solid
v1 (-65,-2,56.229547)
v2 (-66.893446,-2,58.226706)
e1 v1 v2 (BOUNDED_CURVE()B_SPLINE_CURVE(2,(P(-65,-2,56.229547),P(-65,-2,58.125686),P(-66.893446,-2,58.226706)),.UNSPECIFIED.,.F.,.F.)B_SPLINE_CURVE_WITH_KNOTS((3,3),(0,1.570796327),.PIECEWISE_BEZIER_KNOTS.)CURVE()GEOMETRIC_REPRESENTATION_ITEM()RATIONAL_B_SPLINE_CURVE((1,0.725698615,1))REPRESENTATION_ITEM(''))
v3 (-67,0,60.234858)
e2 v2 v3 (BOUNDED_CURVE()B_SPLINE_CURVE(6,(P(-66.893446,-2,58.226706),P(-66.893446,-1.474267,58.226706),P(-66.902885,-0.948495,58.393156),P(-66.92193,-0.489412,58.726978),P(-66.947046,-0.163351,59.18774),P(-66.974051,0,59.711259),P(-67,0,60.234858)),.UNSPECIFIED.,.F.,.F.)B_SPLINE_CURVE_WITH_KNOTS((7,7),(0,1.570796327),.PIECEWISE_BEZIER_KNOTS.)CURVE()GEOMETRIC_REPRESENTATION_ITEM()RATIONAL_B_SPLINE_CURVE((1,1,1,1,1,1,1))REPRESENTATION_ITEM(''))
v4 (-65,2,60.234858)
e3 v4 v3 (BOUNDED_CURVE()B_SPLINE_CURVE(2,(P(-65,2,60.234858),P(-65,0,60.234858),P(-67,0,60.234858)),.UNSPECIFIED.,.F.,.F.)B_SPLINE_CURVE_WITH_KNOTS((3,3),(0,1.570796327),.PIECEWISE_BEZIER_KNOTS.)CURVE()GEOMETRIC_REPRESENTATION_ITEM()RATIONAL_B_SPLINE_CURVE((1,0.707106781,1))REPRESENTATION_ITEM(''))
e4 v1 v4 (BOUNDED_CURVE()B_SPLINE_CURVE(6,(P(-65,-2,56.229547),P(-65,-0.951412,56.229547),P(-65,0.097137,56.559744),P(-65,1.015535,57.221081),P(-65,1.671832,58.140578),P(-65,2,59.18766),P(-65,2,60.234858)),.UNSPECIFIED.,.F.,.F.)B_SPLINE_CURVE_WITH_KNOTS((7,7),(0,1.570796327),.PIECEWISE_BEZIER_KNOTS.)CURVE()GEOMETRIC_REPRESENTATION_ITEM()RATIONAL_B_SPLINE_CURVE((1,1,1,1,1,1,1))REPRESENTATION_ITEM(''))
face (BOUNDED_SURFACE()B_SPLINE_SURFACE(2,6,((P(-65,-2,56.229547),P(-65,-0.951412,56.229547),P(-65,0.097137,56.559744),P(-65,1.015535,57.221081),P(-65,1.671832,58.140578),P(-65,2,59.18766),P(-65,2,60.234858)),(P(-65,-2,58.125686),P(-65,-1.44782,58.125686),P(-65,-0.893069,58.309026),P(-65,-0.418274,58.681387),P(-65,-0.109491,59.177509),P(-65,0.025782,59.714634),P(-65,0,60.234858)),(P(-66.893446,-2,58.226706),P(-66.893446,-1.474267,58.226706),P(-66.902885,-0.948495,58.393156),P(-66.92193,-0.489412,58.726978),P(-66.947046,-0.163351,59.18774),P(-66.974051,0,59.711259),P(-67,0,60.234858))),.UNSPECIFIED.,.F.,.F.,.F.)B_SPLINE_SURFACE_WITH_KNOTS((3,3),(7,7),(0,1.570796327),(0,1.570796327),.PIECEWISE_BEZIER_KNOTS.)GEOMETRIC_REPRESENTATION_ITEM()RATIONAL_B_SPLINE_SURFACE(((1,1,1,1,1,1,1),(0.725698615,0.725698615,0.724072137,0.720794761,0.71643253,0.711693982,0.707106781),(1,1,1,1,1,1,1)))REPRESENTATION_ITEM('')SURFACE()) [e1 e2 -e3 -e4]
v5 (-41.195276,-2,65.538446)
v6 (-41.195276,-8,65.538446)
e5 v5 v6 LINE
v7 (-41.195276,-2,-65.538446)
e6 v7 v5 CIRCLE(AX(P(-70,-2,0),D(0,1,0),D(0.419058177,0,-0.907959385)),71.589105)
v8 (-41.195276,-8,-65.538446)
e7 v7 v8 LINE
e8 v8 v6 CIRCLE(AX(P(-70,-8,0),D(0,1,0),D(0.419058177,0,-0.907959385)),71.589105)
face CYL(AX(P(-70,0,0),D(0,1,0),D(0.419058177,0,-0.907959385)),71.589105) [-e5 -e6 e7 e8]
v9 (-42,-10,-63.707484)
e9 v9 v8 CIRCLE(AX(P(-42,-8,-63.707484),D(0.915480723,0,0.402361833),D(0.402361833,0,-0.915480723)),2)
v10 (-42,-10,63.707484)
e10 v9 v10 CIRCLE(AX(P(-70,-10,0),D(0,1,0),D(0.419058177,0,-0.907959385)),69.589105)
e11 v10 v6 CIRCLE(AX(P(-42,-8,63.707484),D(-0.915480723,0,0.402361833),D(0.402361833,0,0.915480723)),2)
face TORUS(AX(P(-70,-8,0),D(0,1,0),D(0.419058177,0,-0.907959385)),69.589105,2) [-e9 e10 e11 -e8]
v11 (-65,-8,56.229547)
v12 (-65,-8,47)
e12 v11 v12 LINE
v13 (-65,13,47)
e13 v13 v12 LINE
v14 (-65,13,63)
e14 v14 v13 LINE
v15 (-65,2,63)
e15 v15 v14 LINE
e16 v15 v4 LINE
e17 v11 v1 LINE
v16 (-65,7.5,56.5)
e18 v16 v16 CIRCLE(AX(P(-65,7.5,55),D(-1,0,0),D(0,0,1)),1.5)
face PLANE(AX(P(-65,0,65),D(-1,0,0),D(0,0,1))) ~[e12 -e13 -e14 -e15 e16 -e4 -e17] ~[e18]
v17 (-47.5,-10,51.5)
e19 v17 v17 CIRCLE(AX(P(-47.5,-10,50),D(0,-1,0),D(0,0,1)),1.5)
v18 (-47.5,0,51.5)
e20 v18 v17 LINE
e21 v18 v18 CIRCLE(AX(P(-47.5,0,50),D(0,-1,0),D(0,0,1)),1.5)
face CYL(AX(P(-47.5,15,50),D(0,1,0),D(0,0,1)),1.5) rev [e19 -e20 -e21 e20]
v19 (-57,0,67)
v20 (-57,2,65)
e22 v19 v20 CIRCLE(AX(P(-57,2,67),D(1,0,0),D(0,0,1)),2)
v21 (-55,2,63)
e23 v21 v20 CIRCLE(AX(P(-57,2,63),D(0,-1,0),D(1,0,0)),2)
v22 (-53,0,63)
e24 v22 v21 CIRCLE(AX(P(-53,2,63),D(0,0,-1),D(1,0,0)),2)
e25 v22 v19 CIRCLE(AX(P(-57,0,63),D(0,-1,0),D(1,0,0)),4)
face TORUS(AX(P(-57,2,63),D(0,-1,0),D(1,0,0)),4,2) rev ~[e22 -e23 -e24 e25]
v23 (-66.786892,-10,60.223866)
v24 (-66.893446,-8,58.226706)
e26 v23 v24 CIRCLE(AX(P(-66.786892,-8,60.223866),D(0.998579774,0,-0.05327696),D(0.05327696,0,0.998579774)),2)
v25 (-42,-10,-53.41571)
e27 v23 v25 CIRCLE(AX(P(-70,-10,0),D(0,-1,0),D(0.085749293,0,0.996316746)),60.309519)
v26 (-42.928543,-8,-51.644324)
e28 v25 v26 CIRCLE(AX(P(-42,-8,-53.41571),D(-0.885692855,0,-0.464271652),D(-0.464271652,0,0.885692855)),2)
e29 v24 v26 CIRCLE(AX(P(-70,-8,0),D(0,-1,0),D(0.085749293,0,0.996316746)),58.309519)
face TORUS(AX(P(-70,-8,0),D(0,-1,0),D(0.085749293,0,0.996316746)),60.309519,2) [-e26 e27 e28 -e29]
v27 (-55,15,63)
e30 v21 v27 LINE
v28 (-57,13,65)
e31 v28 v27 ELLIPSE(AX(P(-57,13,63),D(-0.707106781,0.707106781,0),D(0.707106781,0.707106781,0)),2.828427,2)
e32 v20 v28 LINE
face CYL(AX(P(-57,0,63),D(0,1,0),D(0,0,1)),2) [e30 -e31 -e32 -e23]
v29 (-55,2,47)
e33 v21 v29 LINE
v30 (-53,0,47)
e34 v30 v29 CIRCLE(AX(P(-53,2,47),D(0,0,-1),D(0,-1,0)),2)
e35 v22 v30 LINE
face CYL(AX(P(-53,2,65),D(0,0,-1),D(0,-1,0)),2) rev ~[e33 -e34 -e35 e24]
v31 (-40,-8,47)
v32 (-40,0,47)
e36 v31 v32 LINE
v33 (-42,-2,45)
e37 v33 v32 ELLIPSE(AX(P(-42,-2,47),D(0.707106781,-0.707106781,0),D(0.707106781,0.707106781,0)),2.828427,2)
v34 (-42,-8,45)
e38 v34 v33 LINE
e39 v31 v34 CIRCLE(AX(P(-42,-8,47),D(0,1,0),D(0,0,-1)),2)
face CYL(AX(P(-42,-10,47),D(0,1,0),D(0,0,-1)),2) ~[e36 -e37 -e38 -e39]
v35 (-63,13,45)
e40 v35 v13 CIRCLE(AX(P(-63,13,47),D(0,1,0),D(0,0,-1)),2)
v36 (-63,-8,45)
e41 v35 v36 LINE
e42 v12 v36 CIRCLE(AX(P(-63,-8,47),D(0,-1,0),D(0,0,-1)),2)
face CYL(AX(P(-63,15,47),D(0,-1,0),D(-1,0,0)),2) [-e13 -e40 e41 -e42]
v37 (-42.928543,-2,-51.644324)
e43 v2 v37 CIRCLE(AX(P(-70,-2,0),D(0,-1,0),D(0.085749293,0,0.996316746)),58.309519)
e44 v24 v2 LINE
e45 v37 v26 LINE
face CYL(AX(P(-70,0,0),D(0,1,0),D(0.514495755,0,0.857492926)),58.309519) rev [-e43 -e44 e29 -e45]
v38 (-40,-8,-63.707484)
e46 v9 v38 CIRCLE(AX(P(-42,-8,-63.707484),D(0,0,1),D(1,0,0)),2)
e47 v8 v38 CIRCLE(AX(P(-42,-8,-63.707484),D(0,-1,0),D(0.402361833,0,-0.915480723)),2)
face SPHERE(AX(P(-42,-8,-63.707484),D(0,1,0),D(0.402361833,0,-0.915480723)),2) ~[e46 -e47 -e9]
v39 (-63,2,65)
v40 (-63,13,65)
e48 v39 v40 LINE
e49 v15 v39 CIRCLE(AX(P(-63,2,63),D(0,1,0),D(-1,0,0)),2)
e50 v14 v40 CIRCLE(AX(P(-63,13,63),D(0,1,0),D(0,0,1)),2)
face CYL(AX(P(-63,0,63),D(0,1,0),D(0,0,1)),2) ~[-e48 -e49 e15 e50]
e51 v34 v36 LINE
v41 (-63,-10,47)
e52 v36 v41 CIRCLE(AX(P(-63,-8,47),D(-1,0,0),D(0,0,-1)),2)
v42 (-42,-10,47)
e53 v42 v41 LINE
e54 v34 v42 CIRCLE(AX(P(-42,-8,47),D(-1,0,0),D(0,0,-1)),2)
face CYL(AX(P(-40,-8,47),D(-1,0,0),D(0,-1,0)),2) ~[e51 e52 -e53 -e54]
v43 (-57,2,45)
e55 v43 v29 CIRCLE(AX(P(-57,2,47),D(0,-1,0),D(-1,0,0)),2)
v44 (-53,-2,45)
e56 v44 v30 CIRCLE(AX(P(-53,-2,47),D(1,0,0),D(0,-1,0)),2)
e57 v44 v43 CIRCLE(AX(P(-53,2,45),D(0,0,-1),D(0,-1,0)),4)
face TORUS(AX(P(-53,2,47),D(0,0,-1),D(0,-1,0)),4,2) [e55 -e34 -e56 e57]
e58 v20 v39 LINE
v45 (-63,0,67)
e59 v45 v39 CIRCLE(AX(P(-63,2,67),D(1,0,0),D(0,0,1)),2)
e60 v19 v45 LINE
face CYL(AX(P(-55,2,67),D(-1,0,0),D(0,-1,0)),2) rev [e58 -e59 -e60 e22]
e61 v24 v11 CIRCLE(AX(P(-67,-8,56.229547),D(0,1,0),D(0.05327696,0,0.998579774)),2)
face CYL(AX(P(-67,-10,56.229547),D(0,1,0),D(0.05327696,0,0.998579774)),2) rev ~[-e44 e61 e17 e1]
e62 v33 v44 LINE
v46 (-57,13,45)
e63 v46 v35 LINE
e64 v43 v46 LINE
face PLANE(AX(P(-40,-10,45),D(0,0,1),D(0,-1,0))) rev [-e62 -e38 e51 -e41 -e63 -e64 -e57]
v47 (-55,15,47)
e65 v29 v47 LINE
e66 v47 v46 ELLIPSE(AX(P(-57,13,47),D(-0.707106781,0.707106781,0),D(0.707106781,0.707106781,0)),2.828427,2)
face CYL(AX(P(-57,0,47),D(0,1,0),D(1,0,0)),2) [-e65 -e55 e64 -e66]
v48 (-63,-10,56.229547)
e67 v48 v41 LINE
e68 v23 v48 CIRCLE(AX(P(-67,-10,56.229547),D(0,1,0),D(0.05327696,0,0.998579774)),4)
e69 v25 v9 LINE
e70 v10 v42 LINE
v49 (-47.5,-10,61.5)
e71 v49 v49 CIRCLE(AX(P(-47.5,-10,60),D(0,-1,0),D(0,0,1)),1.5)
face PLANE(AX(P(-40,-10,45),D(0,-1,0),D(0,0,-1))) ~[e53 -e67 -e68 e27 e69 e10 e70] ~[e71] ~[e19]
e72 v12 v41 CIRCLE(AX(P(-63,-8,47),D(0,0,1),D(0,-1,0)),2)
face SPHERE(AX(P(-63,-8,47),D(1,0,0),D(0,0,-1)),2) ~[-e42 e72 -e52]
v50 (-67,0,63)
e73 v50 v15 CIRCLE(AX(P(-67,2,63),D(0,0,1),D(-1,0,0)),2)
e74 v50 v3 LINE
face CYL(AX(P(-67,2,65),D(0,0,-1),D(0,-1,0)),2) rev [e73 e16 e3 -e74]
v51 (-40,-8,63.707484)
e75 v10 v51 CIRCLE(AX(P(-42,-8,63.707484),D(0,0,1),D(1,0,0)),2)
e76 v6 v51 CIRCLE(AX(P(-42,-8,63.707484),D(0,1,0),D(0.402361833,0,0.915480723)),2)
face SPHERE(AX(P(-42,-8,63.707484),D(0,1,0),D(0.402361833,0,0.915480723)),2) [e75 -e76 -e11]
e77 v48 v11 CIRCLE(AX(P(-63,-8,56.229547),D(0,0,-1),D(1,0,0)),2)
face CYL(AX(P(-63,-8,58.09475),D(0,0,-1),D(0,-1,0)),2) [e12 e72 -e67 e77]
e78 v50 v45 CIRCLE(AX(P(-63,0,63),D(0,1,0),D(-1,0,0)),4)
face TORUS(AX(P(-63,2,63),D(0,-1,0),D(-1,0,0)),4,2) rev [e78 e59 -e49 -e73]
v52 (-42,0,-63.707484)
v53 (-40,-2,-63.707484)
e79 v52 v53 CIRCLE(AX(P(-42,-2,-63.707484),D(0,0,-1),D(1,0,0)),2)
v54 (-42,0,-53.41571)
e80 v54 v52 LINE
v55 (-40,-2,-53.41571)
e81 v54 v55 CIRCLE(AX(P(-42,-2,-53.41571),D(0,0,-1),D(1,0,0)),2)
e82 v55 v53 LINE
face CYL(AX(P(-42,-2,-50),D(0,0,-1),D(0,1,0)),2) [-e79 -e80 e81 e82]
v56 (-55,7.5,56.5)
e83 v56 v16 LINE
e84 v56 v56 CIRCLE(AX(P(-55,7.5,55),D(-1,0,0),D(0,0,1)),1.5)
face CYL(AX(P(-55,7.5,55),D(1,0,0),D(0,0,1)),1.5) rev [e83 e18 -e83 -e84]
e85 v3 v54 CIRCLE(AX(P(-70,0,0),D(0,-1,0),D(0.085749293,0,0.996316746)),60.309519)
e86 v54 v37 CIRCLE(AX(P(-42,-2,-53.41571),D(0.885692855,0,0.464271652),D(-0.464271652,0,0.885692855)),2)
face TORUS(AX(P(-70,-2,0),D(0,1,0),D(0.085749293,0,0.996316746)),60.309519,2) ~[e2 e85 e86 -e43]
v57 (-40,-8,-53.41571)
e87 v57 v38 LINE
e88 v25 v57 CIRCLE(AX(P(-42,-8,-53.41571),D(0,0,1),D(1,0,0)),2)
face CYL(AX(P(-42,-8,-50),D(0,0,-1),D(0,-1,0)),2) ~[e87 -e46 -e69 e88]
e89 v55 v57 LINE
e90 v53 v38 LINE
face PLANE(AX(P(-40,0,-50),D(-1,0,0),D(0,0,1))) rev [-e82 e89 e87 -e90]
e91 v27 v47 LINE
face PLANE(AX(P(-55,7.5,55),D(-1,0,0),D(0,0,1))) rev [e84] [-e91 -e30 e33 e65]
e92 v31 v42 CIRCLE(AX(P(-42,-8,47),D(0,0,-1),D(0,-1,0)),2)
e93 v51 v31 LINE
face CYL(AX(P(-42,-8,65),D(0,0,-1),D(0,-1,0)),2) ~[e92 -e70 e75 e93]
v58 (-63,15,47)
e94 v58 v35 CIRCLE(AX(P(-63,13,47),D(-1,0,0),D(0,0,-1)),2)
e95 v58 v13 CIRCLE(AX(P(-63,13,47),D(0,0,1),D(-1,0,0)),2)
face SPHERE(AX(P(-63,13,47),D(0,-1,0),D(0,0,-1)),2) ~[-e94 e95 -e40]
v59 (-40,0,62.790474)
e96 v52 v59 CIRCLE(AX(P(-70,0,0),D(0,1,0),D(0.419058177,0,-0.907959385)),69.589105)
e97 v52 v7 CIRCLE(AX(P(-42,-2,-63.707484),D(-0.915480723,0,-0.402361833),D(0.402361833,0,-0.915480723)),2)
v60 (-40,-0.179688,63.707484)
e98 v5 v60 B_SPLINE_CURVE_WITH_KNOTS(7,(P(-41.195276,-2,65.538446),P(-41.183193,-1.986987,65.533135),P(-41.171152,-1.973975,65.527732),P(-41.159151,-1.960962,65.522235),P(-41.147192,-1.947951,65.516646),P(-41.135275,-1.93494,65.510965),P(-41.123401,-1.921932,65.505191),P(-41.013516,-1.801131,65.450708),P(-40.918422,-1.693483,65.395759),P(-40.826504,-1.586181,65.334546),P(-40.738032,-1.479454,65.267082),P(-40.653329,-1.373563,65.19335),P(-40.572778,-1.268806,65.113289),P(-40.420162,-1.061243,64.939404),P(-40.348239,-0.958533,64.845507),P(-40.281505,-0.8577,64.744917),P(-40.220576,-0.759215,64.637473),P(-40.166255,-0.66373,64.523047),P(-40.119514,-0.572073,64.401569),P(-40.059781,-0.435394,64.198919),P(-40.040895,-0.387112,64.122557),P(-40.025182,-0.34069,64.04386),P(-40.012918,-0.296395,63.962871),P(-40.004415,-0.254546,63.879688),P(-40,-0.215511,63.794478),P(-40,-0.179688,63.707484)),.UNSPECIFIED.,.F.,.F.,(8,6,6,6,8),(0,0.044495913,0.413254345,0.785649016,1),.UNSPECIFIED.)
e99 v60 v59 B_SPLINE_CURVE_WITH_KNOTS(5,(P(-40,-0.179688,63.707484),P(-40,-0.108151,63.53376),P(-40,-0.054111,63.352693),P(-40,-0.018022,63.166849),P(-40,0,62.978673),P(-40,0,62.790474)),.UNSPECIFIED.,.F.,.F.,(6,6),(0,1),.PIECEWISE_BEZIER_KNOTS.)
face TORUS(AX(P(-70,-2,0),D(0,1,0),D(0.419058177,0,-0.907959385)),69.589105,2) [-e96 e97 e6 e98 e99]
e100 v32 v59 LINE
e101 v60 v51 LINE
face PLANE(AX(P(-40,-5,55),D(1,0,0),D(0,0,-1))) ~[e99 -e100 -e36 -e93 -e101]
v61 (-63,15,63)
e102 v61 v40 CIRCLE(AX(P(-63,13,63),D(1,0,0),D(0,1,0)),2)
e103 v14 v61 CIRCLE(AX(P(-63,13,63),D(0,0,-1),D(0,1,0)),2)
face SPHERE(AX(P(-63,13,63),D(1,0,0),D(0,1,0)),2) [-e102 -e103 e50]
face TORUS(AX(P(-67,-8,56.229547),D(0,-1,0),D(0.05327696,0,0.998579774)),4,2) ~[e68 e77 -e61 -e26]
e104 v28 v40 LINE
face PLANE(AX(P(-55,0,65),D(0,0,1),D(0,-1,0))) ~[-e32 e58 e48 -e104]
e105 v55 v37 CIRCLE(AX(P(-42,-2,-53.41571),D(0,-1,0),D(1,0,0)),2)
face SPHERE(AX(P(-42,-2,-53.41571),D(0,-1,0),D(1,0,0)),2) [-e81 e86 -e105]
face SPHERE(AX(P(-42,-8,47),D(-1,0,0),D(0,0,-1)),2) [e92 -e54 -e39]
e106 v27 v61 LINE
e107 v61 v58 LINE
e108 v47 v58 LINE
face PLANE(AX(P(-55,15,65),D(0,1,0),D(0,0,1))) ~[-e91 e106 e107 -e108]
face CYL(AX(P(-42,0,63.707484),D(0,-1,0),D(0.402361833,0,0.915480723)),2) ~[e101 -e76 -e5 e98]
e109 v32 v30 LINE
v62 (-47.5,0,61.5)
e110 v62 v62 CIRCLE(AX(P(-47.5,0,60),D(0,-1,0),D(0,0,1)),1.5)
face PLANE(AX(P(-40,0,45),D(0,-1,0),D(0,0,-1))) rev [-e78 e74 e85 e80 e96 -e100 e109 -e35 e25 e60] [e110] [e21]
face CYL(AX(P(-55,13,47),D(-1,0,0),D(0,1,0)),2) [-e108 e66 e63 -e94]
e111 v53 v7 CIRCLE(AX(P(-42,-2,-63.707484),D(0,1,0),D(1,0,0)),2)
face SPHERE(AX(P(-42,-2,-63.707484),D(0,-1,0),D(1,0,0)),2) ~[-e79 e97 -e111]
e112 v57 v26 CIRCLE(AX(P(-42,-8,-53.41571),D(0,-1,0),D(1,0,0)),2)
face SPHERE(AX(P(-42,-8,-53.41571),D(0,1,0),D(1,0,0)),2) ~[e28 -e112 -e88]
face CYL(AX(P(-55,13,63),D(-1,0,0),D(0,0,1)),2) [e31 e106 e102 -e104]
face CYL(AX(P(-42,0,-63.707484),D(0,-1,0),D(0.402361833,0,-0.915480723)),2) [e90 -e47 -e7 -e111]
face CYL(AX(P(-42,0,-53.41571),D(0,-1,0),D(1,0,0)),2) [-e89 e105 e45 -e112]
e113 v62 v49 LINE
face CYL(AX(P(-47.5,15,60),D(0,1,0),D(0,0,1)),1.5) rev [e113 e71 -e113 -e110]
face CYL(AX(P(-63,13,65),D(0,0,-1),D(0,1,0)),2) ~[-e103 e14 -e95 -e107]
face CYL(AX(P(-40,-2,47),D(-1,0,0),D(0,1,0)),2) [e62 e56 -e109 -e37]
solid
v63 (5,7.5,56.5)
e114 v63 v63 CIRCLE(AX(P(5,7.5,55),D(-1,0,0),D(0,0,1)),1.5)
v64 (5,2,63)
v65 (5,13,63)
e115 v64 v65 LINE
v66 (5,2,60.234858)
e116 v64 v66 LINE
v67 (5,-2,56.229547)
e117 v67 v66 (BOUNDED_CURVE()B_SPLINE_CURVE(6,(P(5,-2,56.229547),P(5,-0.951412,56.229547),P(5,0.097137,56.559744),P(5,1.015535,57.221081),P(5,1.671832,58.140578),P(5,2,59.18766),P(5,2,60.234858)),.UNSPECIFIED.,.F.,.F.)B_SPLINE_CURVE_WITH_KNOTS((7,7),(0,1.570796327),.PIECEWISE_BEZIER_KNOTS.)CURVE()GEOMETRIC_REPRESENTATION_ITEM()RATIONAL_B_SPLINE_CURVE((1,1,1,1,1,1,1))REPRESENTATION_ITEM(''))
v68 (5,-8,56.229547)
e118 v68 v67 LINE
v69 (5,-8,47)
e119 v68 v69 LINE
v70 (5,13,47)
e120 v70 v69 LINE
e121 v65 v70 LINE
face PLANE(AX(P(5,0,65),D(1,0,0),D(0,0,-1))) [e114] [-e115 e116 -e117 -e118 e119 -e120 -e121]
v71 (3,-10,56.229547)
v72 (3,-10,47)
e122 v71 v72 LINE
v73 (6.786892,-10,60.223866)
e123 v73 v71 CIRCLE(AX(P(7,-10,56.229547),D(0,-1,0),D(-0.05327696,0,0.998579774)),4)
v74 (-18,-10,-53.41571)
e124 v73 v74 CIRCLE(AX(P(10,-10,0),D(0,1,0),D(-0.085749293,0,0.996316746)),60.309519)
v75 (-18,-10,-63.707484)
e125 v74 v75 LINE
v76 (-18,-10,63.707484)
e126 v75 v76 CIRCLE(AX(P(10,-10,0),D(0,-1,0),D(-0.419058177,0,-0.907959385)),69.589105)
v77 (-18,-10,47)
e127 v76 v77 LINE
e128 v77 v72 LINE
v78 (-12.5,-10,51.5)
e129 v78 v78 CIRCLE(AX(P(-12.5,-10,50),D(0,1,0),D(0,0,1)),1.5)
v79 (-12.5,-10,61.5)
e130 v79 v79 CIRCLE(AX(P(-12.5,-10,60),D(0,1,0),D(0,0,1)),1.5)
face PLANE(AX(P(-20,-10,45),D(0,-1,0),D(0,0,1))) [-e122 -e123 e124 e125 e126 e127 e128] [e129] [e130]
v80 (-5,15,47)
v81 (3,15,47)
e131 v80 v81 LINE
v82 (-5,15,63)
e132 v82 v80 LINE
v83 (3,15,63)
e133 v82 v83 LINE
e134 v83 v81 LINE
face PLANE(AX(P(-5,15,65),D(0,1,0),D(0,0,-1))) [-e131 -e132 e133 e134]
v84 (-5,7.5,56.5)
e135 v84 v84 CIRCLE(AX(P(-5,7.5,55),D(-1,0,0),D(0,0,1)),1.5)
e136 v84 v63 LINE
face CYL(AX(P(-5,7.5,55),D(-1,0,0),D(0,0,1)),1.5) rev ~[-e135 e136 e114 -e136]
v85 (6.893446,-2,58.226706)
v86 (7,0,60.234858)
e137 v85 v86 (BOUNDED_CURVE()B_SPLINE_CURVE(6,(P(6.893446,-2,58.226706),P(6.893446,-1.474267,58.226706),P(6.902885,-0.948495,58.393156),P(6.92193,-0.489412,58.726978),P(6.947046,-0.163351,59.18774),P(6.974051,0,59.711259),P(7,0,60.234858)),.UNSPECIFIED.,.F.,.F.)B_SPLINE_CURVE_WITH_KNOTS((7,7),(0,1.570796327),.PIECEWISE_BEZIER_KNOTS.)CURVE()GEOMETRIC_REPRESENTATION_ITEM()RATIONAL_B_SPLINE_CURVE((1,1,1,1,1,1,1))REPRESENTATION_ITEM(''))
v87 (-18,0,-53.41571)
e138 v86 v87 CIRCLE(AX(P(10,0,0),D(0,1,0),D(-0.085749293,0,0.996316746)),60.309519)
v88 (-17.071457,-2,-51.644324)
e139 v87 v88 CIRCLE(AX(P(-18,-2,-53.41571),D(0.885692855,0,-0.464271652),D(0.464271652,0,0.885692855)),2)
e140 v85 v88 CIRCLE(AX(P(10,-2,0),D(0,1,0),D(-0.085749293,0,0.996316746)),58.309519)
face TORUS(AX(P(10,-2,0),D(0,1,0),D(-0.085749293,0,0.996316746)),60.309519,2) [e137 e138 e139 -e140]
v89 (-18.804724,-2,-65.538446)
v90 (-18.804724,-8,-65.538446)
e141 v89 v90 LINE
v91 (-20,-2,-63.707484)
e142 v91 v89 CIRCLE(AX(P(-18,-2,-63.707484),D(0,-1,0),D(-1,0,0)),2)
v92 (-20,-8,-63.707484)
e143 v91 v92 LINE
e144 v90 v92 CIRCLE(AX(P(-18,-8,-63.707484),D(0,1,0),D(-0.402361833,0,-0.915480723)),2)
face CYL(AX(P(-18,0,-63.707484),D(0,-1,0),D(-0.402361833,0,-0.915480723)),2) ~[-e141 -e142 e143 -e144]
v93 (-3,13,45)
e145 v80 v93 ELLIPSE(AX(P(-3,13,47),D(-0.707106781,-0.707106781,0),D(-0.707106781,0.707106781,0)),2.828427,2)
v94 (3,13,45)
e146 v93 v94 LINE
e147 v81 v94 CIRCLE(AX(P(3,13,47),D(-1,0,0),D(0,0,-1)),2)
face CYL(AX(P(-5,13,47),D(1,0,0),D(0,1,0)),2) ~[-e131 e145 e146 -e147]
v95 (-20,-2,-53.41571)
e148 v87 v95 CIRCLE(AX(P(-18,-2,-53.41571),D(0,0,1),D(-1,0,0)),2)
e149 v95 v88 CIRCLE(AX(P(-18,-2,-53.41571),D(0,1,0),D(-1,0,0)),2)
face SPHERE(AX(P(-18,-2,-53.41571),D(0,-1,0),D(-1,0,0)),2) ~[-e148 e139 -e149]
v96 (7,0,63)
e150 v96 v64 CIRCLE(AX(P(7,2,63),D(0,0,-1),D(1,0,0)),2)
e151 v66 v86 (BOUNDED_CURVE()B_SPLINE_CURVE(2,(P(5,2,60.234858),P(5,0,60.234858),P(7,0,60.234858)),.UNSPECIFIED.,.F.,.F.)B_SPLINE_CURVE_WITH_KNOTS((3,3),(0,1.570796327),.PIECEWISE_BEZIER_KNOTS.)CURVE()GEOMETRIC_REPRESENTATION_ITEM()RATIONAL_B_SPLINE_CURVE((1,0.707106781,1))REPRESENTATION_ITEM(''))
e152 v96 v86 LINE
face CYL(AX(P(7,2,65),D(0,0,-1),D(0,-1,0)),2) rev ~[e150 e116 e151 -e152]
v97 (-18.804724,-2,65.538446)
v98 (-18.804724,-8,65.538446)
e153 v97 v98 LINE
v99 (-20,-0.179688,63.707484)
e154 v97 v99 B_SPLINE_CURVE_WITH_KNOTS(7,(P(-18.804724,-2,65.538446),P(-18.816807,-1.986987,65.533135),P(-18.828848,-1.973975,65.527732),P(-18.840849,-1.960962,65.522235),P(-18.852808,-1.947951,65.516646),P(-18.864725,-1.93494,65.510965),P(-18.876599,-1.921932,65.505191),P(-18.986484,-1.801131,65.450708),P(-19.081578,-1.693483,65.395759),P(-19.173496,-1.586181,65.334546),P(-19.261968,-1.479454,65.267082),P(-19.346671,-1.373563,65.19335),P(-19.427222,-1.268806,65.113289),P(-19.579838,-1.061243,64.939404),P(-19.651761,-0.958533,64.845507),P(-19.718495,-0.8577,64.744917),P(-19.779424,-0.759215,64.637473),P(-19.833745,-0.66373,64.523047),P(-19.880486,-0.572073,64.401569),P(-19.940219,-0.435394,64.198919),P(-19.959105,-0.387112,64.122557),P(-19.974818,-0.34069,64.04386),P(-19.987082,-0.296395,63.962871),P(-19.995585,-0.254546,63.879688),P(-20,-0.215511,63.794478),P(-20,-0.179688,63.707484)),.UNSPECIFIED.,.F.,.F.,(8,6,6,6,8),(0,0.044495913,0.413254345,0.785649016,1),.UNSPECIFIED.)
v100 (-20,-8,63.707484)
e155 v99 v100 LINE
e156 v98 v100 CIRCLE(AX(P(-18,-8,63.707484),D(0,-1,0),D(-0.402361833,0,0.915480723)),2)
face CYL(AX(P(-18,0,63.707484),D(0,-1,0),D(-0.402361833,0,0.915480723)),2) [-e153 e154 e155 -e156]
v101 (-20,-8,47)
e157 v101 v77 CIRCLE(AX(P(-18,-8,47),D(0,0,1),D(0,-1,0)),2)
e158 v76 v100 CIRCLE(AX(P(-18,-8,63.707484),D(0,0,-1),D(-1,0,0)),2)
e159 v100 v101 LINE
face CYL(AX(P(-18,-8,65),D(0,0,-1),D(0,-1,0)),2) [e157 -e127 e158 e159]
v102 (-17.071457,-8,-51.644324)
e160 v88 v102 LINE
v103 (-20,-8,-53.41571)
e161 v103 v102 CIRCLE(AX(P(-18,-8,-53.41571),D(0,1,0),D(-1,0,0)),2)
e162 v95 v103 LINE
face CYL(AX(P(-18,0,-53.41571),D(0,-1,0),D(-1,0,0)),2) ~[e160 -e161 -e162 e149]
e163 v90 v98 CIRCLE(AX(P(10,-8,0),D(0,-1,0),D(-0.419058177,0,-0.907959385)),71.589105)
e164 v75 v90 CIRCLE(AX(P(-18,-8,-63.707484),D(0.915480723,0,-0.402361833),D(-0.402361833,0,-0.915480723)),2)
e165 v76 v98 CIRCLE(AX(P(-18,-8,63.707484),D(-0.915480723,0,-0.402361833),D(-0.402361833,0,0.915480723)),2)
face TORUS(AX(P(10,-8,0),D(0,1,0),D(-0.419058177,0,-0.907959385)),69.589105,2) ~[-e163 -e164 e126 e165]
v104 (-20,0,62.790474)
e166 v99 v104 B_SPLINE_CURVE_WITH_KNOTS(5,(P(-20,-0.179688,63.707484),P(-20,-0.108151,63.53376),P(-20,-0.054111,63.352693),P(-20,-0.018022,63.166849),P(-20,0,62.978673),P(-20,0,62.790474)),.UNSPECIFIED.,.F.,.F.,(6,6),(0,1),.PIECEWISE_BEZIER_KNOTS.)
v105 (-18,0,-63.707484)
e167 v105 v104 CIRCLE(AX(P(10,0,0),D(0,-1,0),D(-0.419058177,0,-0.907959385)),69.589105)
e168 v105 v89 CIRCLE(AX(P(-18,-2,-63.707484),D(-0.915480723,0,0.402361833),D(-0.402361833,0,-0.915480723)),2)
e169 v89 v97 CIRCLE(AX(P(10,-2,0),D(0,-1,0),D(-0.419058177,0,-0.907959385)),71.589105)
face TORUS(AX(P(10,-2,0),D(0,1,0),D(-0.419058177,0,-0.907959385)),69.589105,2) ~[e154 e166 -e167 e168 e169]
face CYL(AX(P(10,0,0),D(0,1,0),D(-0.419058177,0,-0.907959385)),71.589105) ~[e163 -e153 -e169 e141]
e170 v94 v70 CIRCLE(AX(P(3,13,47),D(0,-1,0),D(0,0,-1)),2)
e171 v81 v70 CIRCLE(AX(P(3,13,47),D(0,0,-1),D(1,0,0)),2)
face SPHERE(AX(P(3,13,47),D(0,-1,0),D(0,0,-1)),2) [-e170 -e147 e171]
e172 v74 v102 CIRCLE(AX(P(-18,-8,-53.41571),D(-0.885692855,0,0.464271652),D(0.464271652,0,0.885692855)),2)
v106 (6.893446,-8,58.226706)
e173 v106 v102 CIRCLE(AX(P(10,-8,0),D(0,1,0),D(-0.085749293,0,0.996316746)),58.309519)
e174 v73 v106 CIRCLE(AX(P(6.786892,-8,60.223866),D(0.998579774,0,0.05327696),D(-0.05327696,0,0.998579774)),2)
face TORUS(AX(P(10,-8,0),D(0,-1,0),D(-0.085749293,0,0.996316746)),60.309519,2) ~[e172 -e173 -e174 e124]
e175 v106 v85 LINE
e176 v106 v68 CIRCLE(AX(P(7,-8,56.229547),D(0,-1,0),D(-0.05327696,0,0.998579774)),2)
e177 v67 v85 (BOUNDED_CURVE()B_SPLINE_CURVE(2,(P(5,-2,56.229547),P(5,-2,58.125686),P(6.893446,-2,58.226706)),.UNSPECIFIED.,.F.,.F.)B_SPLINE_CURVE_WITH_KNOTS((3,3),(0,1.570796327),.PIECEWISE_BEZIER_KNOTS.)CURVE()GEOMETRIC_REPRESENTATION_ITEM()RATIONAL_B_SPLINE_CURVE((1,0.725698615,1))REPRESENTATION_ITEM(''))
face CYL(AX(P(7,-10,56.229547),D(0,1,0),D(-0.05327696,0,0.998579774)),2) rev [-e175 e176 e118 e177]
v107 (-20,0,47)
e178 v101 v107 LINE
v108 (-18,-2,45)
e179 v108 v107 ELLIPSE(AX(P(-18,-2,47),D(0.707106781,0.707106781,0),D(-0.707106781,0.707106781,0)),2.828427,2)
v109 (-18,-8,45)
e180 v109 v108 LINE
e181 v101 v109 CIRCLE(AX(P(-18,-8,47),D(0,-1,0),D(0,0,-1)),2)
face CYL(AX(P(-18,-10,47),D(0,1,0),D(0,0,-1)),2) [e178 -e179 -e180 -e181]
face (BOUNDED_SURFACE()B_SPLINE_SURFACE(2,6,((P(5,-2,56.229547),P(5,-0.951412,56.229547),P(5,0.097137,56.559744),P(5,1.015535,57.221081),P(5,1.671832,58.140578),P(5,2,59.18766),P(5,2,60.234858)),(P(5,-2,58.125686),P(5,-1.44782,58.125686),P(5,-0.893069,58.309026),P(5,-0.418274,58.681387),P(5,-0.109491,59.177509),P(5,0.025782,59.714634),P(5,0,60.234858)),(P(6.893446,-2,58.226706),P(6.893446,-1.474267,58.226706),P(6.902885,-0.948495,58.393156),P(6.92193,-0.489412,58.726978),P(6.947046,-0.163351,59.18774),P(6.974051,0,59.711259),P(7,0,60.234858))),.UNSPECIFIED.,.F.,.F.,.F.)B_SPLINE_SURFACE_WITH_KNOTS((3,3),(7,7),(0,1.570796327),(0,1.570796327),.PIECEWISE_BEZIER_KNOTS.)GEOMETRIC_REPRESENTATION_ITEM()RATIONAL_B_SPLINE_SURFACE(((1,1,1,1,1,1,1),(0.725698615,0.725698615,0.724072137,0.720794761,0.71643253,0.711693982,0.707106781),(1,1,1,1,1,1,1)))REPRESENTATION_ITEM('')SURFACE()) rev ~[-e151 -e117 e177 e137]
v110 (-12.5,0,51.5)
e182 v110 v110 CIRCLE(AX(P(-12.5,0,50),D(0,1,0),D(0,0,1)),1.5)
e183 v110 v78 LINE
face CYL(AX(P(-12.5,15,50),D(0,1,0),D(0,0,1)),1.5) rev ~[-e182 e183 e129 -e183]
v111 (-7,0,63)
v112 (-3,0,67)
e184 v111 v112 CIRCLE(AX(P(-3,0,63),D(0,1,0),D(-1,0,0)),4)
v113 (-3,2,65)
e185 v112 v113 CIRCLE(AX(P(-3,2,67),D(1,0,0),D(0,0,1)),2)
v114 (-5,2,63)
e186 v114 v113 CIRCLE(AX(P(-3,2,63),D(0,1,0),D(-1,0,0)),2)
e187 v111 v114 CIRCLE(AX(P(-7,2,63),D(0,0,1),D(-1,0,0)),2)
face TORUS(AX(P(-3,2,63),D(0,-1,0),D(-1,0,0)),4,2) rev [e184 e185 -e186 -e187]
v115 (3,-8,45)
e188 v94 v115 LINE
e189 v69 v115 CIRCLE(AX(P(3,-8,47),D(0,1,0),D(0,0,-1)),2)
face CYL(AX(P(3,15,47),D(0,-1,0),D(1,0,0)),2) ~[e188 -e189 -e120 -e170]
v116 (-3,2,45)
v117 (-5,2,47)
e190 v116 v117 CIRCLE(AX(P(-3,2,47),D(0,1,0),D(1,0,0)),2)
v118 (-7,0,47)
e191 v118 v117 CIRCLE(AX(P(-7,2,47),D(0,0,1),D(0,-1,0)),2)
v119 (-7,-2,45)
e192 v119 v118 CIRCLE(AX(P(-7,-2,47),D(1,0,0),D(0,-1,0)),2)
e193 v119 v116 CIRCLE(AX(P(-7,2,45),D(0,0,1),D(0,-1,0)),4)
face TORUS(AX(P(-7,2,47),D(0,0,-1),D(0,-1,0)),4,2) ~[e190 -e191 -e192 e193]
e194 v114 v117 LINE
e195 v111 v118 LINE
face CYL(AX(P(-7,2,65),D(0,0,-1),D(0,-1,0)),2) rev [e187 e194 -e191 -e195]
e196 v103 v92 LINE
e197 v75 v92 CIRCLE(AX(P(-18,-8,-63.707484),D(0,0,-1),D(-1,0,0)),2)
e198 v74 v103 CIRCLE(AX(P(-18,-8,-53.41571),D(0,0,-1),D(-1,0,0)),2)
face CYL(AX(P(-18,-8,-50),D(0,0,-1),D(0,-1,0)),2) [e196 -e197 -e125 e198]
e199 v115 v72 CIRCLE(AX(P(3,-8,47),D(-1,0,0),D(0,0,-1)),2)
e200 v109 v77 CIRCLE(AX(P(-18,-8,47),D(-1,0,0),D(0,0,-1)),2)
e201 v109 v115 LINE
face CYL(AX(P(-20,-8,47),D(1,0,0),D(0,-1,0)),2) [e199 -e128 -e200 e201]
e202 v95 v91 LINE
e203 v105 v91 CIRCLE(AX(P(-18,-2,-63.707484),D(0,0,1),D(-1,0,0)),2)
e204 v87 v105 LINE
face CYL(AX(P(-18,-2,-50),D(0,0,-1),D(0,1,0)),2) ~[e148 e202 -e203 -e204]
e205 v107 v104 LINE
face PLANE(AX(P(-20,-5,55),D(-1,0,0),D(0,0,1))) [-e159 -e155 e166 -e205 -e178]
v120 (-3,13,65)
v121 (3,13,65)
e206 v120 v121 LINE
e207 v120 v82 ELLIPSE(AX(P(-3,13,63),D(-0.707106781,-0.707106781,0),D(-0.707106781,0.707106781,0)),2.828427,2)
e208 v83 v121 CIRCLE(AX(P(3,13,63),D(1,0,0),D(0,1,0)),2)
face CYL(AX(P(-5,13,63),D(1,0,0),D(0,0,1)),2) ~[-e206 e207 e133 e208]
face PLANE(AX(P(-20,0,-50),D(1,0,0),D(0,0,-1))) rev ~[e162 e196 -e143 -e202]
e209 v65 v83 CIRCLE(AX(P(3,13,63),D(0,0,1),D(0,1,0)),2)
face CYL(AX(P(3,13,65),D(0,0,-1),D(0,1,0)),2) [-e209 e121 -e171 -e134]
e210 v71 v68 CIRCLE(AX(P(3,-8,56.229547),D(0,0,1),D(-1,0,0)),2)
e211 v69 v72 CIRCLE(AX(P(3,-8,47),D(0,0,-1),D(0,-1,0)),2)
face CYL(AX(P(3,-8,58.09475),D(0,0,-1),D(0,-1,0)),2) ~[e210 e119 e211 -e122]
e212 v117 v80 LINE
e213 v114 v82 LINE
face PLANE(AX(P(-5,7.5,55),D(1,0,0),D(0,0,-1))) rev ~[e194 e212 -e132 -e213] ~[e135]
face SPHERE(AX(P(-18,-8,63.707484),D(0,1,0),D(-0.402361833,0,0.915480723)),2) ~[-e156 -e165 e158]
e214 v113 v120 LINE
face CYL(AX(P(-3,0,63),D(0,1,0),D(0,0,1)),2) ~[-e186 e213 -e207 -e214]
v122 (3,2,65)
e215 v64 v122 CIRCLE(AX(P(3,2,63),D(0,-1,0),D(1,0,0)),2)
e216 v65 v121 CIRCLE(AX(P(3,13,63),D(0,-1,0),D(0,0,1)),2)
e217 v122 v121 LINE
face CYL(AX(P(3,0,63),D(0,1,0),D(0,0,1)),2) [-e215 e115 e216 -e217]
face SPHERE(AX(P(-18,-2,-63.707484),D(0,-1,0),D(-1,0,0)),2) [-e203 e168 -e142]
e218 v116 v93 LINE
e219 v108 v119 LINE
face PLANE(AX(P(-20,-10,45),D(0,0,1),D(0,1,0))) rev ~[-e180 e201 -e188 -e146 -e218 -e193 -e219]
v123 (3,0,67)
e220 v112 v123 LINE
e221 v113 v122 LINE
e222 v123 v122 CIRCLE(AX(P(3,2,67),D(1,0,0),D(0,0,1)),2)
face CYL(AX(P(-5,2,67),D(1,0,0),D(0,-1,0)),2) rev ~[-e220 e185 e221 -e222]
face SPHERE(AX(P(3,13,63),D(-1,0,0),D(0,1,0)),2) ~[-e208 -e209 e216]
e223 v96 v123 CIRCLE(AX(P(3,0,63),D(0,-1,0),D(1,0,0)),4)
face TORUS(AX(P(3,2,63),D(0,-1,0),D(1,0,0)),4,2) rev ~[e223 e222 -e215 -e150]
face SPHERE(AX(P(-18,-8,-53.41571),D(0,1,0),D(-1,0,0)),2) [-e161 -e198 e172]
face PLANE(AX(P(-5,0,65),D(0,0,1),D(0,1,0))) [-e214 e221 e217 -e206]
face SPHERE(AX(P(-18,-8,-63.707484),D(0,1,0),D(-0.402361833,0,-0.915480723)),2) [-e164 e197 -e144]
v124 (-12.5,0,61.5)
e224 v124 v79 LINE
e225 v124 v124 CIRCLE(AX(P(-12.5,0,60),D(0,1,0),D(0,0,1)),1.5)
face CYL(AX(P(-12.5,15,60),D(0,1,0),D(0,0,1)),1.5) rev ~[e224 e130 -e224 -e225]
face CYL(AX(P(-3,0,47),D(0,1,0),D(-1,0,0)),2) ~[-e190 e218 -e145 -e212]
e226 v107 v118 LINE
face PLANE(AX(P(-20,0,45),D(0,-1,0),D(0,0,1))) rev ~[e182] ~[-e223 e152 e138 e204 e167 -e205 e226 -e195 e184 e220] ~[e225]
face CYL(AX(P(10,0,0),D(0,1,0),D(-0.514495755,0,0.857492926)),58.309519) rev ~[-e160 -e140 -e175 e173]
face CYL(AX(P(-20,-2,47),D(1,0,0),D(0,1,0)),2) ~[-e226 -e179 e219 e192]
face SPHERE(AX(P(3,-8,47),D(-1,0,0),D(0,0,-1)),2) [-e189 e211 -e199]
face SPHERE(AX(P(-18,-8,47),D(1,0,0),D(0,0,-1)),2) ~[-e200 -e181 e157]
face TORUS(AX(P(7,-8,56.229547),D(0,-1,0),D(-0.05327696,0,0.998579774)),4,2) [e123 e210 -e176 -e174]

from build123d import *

# Parameters (mm, degrees)
BOSS_EXTRUDE1_DEPTH  = 10
SKETCH2_W            = 20
SKETCH2_H            = 10
BOSS_EXTRUDE2_DEPTH  = 15
SKETCH3_W            = 20
SKETCH3_H            = 15
BOSS_EXTRUDE10_DEPTH = 10
SKETCH4_W            = 10
SKETCH4_H            = 20
BOSS_EXTRUDE11_DEPTH = 10
FILLET2_R            = 2
SKETCH5_R            = 1.5
CUT_EXTRUDE1_DEPTH   = 112.385735788
CUT_EXTRUDE2_REACH   = 115.348
SKETCH6_R            = 1.5


with BuildPart() as part:
    # Sketch1 → Boss-Extrude1 (new body)
    with BuildSketch(Plane(origin=(0, 0, 0), x_dir=(1, 0, 0), z_dir=(0, 1, 0))):
        with BuildLine():
            Line((-20, 50), (-20, 65))
            ThreePointArc((-20, 65), (81.589105316, 0), (-20, -65))
            Line((-20, -65), (-20, -50))
            ThreePointArc((-20, -50), (68.309518948, 0), (-20, 50))
        make_face()
    extrude(amount=-BOSS_EXTRUDE1_DEPTH)

    # Sketch2 → Boss-Extrude2 (add)
    with BuildSketch(Plane.ZY.offset(20)):
        with Locations((55, -5)):
            Rectangle(SKETCH2_W, SKETCH2_H)
    extrude(amount=-BOSS_EXTRUDE2_DEPTH)



with BuildPart() as body_2:
    # Sketch3 → Boss-Extrude10 (new body)
    with BuildSketch(Plane(origin=(-5, 0, 0), x_dir=(0, 0, -1), z_dir=(1, 0, 0))):
        with Locations((-55, 7.5)):
            Rectangle(SKETCH3_W, SKETCH3_H)
    extrude(amount=BOSS_EXTRUDE10_DEPTH)


with BuildPart() as part_1:
    add(part.part)

    add(body_2.part)  # Boss-Extrude11 merges body 2
    # Sketch4 → Boss-Extrude11 (add)
    with BuildSketch(Plane(origin=(0, 0, 0), x_dir=(-1, 0, 0), z_dir=(0, -1, 0))):
        with Locations((0, -55)):
            Rectangle(SKETCH4_W, SKETCH4_H)
    extrude(amount=BOSS_EXTRUDE11_DEPTH)

    # Fillet2
    fillet2_edges = [part_1.edges().sort_by_distance(p)[0] for p in [
        (81.589105316, -10, 0),
        (-20, -10, -57.5),
        (-7.5, -10, 45),
        (-20, -5, 45),
        (5, -5, 58.094750193),
        (5, 2.5, 45),
        (66.809935353, -10, -13.138921005),
        (5, -10, 51.547375097),
        (-20, 0, -57.5),
        (81.589105316, 0, 0),
        (-12.5, 0, 45),
        (-5, 7.5, 45),
        (0, 15, 45),
        (-5, 7.5, 65),
        (0, 15, 65),
        (-5, 0, 55),
        (0, 0, 65),
        (5, 15, 55),
        (5, 7.5, 65),
        (5, 0, 61.547375097),
        (66.809935353, 0, -13.138921005),
        (-20, -10, 55),
        (-20, -5, -50),
        (-20, -5, -65),
        (-20, -5, 65),
    ]]
    fillet(fillet2_edges, radius=FILLET2_R)

    # Sketch5 → Cut-Extrude1 (cut, through all)
    with BuildSketch(Plane(origin=(0, 15, 0), x_dir=(1, 0, 0), z_dir=(0, 1, 0))):
        with Locations(Location((-12.5, -50, 0), (0, 0, 270))):
            Circle(SKETCH5_R)
        with Locations(Location((-12.5, -60, 0), (0, 0, 270))):
            Circle(SKETCH5_R)
    extrude(amount=-CUT_EXTRUDE1_DEPTH, mode=Mode.SUBTRACT)

    # Sketch6 → Cut-Extrude2 (cut, up to next)
    with BuildSketch(Plane.ZY.offset(5), mode=Mode.PRIVATE) as cut_extrude2_sk1:
        with Locations((55, 7.5)):
            Circle(SKETCH6_R)
    cut_extrude2_tool1 = extrude(cut_extrude2_sk1.sketch, amount=-CUT_EXTRUDE2_REACH, mode=Mode.PRIVATE) & part_1.part
    add(cut_extrude2_tool1.solids().sort_by_distance((-5, 7.5, 55))[0], mode=Mode.SUBTRACT)


with BuildPart() as body_2_2:
    # Mirror2: mirrored copy
    add(part_1.part.mirror(Plane.ZY.offset(30)))


solid = Compound([part_1.part, body_2_2.part])
